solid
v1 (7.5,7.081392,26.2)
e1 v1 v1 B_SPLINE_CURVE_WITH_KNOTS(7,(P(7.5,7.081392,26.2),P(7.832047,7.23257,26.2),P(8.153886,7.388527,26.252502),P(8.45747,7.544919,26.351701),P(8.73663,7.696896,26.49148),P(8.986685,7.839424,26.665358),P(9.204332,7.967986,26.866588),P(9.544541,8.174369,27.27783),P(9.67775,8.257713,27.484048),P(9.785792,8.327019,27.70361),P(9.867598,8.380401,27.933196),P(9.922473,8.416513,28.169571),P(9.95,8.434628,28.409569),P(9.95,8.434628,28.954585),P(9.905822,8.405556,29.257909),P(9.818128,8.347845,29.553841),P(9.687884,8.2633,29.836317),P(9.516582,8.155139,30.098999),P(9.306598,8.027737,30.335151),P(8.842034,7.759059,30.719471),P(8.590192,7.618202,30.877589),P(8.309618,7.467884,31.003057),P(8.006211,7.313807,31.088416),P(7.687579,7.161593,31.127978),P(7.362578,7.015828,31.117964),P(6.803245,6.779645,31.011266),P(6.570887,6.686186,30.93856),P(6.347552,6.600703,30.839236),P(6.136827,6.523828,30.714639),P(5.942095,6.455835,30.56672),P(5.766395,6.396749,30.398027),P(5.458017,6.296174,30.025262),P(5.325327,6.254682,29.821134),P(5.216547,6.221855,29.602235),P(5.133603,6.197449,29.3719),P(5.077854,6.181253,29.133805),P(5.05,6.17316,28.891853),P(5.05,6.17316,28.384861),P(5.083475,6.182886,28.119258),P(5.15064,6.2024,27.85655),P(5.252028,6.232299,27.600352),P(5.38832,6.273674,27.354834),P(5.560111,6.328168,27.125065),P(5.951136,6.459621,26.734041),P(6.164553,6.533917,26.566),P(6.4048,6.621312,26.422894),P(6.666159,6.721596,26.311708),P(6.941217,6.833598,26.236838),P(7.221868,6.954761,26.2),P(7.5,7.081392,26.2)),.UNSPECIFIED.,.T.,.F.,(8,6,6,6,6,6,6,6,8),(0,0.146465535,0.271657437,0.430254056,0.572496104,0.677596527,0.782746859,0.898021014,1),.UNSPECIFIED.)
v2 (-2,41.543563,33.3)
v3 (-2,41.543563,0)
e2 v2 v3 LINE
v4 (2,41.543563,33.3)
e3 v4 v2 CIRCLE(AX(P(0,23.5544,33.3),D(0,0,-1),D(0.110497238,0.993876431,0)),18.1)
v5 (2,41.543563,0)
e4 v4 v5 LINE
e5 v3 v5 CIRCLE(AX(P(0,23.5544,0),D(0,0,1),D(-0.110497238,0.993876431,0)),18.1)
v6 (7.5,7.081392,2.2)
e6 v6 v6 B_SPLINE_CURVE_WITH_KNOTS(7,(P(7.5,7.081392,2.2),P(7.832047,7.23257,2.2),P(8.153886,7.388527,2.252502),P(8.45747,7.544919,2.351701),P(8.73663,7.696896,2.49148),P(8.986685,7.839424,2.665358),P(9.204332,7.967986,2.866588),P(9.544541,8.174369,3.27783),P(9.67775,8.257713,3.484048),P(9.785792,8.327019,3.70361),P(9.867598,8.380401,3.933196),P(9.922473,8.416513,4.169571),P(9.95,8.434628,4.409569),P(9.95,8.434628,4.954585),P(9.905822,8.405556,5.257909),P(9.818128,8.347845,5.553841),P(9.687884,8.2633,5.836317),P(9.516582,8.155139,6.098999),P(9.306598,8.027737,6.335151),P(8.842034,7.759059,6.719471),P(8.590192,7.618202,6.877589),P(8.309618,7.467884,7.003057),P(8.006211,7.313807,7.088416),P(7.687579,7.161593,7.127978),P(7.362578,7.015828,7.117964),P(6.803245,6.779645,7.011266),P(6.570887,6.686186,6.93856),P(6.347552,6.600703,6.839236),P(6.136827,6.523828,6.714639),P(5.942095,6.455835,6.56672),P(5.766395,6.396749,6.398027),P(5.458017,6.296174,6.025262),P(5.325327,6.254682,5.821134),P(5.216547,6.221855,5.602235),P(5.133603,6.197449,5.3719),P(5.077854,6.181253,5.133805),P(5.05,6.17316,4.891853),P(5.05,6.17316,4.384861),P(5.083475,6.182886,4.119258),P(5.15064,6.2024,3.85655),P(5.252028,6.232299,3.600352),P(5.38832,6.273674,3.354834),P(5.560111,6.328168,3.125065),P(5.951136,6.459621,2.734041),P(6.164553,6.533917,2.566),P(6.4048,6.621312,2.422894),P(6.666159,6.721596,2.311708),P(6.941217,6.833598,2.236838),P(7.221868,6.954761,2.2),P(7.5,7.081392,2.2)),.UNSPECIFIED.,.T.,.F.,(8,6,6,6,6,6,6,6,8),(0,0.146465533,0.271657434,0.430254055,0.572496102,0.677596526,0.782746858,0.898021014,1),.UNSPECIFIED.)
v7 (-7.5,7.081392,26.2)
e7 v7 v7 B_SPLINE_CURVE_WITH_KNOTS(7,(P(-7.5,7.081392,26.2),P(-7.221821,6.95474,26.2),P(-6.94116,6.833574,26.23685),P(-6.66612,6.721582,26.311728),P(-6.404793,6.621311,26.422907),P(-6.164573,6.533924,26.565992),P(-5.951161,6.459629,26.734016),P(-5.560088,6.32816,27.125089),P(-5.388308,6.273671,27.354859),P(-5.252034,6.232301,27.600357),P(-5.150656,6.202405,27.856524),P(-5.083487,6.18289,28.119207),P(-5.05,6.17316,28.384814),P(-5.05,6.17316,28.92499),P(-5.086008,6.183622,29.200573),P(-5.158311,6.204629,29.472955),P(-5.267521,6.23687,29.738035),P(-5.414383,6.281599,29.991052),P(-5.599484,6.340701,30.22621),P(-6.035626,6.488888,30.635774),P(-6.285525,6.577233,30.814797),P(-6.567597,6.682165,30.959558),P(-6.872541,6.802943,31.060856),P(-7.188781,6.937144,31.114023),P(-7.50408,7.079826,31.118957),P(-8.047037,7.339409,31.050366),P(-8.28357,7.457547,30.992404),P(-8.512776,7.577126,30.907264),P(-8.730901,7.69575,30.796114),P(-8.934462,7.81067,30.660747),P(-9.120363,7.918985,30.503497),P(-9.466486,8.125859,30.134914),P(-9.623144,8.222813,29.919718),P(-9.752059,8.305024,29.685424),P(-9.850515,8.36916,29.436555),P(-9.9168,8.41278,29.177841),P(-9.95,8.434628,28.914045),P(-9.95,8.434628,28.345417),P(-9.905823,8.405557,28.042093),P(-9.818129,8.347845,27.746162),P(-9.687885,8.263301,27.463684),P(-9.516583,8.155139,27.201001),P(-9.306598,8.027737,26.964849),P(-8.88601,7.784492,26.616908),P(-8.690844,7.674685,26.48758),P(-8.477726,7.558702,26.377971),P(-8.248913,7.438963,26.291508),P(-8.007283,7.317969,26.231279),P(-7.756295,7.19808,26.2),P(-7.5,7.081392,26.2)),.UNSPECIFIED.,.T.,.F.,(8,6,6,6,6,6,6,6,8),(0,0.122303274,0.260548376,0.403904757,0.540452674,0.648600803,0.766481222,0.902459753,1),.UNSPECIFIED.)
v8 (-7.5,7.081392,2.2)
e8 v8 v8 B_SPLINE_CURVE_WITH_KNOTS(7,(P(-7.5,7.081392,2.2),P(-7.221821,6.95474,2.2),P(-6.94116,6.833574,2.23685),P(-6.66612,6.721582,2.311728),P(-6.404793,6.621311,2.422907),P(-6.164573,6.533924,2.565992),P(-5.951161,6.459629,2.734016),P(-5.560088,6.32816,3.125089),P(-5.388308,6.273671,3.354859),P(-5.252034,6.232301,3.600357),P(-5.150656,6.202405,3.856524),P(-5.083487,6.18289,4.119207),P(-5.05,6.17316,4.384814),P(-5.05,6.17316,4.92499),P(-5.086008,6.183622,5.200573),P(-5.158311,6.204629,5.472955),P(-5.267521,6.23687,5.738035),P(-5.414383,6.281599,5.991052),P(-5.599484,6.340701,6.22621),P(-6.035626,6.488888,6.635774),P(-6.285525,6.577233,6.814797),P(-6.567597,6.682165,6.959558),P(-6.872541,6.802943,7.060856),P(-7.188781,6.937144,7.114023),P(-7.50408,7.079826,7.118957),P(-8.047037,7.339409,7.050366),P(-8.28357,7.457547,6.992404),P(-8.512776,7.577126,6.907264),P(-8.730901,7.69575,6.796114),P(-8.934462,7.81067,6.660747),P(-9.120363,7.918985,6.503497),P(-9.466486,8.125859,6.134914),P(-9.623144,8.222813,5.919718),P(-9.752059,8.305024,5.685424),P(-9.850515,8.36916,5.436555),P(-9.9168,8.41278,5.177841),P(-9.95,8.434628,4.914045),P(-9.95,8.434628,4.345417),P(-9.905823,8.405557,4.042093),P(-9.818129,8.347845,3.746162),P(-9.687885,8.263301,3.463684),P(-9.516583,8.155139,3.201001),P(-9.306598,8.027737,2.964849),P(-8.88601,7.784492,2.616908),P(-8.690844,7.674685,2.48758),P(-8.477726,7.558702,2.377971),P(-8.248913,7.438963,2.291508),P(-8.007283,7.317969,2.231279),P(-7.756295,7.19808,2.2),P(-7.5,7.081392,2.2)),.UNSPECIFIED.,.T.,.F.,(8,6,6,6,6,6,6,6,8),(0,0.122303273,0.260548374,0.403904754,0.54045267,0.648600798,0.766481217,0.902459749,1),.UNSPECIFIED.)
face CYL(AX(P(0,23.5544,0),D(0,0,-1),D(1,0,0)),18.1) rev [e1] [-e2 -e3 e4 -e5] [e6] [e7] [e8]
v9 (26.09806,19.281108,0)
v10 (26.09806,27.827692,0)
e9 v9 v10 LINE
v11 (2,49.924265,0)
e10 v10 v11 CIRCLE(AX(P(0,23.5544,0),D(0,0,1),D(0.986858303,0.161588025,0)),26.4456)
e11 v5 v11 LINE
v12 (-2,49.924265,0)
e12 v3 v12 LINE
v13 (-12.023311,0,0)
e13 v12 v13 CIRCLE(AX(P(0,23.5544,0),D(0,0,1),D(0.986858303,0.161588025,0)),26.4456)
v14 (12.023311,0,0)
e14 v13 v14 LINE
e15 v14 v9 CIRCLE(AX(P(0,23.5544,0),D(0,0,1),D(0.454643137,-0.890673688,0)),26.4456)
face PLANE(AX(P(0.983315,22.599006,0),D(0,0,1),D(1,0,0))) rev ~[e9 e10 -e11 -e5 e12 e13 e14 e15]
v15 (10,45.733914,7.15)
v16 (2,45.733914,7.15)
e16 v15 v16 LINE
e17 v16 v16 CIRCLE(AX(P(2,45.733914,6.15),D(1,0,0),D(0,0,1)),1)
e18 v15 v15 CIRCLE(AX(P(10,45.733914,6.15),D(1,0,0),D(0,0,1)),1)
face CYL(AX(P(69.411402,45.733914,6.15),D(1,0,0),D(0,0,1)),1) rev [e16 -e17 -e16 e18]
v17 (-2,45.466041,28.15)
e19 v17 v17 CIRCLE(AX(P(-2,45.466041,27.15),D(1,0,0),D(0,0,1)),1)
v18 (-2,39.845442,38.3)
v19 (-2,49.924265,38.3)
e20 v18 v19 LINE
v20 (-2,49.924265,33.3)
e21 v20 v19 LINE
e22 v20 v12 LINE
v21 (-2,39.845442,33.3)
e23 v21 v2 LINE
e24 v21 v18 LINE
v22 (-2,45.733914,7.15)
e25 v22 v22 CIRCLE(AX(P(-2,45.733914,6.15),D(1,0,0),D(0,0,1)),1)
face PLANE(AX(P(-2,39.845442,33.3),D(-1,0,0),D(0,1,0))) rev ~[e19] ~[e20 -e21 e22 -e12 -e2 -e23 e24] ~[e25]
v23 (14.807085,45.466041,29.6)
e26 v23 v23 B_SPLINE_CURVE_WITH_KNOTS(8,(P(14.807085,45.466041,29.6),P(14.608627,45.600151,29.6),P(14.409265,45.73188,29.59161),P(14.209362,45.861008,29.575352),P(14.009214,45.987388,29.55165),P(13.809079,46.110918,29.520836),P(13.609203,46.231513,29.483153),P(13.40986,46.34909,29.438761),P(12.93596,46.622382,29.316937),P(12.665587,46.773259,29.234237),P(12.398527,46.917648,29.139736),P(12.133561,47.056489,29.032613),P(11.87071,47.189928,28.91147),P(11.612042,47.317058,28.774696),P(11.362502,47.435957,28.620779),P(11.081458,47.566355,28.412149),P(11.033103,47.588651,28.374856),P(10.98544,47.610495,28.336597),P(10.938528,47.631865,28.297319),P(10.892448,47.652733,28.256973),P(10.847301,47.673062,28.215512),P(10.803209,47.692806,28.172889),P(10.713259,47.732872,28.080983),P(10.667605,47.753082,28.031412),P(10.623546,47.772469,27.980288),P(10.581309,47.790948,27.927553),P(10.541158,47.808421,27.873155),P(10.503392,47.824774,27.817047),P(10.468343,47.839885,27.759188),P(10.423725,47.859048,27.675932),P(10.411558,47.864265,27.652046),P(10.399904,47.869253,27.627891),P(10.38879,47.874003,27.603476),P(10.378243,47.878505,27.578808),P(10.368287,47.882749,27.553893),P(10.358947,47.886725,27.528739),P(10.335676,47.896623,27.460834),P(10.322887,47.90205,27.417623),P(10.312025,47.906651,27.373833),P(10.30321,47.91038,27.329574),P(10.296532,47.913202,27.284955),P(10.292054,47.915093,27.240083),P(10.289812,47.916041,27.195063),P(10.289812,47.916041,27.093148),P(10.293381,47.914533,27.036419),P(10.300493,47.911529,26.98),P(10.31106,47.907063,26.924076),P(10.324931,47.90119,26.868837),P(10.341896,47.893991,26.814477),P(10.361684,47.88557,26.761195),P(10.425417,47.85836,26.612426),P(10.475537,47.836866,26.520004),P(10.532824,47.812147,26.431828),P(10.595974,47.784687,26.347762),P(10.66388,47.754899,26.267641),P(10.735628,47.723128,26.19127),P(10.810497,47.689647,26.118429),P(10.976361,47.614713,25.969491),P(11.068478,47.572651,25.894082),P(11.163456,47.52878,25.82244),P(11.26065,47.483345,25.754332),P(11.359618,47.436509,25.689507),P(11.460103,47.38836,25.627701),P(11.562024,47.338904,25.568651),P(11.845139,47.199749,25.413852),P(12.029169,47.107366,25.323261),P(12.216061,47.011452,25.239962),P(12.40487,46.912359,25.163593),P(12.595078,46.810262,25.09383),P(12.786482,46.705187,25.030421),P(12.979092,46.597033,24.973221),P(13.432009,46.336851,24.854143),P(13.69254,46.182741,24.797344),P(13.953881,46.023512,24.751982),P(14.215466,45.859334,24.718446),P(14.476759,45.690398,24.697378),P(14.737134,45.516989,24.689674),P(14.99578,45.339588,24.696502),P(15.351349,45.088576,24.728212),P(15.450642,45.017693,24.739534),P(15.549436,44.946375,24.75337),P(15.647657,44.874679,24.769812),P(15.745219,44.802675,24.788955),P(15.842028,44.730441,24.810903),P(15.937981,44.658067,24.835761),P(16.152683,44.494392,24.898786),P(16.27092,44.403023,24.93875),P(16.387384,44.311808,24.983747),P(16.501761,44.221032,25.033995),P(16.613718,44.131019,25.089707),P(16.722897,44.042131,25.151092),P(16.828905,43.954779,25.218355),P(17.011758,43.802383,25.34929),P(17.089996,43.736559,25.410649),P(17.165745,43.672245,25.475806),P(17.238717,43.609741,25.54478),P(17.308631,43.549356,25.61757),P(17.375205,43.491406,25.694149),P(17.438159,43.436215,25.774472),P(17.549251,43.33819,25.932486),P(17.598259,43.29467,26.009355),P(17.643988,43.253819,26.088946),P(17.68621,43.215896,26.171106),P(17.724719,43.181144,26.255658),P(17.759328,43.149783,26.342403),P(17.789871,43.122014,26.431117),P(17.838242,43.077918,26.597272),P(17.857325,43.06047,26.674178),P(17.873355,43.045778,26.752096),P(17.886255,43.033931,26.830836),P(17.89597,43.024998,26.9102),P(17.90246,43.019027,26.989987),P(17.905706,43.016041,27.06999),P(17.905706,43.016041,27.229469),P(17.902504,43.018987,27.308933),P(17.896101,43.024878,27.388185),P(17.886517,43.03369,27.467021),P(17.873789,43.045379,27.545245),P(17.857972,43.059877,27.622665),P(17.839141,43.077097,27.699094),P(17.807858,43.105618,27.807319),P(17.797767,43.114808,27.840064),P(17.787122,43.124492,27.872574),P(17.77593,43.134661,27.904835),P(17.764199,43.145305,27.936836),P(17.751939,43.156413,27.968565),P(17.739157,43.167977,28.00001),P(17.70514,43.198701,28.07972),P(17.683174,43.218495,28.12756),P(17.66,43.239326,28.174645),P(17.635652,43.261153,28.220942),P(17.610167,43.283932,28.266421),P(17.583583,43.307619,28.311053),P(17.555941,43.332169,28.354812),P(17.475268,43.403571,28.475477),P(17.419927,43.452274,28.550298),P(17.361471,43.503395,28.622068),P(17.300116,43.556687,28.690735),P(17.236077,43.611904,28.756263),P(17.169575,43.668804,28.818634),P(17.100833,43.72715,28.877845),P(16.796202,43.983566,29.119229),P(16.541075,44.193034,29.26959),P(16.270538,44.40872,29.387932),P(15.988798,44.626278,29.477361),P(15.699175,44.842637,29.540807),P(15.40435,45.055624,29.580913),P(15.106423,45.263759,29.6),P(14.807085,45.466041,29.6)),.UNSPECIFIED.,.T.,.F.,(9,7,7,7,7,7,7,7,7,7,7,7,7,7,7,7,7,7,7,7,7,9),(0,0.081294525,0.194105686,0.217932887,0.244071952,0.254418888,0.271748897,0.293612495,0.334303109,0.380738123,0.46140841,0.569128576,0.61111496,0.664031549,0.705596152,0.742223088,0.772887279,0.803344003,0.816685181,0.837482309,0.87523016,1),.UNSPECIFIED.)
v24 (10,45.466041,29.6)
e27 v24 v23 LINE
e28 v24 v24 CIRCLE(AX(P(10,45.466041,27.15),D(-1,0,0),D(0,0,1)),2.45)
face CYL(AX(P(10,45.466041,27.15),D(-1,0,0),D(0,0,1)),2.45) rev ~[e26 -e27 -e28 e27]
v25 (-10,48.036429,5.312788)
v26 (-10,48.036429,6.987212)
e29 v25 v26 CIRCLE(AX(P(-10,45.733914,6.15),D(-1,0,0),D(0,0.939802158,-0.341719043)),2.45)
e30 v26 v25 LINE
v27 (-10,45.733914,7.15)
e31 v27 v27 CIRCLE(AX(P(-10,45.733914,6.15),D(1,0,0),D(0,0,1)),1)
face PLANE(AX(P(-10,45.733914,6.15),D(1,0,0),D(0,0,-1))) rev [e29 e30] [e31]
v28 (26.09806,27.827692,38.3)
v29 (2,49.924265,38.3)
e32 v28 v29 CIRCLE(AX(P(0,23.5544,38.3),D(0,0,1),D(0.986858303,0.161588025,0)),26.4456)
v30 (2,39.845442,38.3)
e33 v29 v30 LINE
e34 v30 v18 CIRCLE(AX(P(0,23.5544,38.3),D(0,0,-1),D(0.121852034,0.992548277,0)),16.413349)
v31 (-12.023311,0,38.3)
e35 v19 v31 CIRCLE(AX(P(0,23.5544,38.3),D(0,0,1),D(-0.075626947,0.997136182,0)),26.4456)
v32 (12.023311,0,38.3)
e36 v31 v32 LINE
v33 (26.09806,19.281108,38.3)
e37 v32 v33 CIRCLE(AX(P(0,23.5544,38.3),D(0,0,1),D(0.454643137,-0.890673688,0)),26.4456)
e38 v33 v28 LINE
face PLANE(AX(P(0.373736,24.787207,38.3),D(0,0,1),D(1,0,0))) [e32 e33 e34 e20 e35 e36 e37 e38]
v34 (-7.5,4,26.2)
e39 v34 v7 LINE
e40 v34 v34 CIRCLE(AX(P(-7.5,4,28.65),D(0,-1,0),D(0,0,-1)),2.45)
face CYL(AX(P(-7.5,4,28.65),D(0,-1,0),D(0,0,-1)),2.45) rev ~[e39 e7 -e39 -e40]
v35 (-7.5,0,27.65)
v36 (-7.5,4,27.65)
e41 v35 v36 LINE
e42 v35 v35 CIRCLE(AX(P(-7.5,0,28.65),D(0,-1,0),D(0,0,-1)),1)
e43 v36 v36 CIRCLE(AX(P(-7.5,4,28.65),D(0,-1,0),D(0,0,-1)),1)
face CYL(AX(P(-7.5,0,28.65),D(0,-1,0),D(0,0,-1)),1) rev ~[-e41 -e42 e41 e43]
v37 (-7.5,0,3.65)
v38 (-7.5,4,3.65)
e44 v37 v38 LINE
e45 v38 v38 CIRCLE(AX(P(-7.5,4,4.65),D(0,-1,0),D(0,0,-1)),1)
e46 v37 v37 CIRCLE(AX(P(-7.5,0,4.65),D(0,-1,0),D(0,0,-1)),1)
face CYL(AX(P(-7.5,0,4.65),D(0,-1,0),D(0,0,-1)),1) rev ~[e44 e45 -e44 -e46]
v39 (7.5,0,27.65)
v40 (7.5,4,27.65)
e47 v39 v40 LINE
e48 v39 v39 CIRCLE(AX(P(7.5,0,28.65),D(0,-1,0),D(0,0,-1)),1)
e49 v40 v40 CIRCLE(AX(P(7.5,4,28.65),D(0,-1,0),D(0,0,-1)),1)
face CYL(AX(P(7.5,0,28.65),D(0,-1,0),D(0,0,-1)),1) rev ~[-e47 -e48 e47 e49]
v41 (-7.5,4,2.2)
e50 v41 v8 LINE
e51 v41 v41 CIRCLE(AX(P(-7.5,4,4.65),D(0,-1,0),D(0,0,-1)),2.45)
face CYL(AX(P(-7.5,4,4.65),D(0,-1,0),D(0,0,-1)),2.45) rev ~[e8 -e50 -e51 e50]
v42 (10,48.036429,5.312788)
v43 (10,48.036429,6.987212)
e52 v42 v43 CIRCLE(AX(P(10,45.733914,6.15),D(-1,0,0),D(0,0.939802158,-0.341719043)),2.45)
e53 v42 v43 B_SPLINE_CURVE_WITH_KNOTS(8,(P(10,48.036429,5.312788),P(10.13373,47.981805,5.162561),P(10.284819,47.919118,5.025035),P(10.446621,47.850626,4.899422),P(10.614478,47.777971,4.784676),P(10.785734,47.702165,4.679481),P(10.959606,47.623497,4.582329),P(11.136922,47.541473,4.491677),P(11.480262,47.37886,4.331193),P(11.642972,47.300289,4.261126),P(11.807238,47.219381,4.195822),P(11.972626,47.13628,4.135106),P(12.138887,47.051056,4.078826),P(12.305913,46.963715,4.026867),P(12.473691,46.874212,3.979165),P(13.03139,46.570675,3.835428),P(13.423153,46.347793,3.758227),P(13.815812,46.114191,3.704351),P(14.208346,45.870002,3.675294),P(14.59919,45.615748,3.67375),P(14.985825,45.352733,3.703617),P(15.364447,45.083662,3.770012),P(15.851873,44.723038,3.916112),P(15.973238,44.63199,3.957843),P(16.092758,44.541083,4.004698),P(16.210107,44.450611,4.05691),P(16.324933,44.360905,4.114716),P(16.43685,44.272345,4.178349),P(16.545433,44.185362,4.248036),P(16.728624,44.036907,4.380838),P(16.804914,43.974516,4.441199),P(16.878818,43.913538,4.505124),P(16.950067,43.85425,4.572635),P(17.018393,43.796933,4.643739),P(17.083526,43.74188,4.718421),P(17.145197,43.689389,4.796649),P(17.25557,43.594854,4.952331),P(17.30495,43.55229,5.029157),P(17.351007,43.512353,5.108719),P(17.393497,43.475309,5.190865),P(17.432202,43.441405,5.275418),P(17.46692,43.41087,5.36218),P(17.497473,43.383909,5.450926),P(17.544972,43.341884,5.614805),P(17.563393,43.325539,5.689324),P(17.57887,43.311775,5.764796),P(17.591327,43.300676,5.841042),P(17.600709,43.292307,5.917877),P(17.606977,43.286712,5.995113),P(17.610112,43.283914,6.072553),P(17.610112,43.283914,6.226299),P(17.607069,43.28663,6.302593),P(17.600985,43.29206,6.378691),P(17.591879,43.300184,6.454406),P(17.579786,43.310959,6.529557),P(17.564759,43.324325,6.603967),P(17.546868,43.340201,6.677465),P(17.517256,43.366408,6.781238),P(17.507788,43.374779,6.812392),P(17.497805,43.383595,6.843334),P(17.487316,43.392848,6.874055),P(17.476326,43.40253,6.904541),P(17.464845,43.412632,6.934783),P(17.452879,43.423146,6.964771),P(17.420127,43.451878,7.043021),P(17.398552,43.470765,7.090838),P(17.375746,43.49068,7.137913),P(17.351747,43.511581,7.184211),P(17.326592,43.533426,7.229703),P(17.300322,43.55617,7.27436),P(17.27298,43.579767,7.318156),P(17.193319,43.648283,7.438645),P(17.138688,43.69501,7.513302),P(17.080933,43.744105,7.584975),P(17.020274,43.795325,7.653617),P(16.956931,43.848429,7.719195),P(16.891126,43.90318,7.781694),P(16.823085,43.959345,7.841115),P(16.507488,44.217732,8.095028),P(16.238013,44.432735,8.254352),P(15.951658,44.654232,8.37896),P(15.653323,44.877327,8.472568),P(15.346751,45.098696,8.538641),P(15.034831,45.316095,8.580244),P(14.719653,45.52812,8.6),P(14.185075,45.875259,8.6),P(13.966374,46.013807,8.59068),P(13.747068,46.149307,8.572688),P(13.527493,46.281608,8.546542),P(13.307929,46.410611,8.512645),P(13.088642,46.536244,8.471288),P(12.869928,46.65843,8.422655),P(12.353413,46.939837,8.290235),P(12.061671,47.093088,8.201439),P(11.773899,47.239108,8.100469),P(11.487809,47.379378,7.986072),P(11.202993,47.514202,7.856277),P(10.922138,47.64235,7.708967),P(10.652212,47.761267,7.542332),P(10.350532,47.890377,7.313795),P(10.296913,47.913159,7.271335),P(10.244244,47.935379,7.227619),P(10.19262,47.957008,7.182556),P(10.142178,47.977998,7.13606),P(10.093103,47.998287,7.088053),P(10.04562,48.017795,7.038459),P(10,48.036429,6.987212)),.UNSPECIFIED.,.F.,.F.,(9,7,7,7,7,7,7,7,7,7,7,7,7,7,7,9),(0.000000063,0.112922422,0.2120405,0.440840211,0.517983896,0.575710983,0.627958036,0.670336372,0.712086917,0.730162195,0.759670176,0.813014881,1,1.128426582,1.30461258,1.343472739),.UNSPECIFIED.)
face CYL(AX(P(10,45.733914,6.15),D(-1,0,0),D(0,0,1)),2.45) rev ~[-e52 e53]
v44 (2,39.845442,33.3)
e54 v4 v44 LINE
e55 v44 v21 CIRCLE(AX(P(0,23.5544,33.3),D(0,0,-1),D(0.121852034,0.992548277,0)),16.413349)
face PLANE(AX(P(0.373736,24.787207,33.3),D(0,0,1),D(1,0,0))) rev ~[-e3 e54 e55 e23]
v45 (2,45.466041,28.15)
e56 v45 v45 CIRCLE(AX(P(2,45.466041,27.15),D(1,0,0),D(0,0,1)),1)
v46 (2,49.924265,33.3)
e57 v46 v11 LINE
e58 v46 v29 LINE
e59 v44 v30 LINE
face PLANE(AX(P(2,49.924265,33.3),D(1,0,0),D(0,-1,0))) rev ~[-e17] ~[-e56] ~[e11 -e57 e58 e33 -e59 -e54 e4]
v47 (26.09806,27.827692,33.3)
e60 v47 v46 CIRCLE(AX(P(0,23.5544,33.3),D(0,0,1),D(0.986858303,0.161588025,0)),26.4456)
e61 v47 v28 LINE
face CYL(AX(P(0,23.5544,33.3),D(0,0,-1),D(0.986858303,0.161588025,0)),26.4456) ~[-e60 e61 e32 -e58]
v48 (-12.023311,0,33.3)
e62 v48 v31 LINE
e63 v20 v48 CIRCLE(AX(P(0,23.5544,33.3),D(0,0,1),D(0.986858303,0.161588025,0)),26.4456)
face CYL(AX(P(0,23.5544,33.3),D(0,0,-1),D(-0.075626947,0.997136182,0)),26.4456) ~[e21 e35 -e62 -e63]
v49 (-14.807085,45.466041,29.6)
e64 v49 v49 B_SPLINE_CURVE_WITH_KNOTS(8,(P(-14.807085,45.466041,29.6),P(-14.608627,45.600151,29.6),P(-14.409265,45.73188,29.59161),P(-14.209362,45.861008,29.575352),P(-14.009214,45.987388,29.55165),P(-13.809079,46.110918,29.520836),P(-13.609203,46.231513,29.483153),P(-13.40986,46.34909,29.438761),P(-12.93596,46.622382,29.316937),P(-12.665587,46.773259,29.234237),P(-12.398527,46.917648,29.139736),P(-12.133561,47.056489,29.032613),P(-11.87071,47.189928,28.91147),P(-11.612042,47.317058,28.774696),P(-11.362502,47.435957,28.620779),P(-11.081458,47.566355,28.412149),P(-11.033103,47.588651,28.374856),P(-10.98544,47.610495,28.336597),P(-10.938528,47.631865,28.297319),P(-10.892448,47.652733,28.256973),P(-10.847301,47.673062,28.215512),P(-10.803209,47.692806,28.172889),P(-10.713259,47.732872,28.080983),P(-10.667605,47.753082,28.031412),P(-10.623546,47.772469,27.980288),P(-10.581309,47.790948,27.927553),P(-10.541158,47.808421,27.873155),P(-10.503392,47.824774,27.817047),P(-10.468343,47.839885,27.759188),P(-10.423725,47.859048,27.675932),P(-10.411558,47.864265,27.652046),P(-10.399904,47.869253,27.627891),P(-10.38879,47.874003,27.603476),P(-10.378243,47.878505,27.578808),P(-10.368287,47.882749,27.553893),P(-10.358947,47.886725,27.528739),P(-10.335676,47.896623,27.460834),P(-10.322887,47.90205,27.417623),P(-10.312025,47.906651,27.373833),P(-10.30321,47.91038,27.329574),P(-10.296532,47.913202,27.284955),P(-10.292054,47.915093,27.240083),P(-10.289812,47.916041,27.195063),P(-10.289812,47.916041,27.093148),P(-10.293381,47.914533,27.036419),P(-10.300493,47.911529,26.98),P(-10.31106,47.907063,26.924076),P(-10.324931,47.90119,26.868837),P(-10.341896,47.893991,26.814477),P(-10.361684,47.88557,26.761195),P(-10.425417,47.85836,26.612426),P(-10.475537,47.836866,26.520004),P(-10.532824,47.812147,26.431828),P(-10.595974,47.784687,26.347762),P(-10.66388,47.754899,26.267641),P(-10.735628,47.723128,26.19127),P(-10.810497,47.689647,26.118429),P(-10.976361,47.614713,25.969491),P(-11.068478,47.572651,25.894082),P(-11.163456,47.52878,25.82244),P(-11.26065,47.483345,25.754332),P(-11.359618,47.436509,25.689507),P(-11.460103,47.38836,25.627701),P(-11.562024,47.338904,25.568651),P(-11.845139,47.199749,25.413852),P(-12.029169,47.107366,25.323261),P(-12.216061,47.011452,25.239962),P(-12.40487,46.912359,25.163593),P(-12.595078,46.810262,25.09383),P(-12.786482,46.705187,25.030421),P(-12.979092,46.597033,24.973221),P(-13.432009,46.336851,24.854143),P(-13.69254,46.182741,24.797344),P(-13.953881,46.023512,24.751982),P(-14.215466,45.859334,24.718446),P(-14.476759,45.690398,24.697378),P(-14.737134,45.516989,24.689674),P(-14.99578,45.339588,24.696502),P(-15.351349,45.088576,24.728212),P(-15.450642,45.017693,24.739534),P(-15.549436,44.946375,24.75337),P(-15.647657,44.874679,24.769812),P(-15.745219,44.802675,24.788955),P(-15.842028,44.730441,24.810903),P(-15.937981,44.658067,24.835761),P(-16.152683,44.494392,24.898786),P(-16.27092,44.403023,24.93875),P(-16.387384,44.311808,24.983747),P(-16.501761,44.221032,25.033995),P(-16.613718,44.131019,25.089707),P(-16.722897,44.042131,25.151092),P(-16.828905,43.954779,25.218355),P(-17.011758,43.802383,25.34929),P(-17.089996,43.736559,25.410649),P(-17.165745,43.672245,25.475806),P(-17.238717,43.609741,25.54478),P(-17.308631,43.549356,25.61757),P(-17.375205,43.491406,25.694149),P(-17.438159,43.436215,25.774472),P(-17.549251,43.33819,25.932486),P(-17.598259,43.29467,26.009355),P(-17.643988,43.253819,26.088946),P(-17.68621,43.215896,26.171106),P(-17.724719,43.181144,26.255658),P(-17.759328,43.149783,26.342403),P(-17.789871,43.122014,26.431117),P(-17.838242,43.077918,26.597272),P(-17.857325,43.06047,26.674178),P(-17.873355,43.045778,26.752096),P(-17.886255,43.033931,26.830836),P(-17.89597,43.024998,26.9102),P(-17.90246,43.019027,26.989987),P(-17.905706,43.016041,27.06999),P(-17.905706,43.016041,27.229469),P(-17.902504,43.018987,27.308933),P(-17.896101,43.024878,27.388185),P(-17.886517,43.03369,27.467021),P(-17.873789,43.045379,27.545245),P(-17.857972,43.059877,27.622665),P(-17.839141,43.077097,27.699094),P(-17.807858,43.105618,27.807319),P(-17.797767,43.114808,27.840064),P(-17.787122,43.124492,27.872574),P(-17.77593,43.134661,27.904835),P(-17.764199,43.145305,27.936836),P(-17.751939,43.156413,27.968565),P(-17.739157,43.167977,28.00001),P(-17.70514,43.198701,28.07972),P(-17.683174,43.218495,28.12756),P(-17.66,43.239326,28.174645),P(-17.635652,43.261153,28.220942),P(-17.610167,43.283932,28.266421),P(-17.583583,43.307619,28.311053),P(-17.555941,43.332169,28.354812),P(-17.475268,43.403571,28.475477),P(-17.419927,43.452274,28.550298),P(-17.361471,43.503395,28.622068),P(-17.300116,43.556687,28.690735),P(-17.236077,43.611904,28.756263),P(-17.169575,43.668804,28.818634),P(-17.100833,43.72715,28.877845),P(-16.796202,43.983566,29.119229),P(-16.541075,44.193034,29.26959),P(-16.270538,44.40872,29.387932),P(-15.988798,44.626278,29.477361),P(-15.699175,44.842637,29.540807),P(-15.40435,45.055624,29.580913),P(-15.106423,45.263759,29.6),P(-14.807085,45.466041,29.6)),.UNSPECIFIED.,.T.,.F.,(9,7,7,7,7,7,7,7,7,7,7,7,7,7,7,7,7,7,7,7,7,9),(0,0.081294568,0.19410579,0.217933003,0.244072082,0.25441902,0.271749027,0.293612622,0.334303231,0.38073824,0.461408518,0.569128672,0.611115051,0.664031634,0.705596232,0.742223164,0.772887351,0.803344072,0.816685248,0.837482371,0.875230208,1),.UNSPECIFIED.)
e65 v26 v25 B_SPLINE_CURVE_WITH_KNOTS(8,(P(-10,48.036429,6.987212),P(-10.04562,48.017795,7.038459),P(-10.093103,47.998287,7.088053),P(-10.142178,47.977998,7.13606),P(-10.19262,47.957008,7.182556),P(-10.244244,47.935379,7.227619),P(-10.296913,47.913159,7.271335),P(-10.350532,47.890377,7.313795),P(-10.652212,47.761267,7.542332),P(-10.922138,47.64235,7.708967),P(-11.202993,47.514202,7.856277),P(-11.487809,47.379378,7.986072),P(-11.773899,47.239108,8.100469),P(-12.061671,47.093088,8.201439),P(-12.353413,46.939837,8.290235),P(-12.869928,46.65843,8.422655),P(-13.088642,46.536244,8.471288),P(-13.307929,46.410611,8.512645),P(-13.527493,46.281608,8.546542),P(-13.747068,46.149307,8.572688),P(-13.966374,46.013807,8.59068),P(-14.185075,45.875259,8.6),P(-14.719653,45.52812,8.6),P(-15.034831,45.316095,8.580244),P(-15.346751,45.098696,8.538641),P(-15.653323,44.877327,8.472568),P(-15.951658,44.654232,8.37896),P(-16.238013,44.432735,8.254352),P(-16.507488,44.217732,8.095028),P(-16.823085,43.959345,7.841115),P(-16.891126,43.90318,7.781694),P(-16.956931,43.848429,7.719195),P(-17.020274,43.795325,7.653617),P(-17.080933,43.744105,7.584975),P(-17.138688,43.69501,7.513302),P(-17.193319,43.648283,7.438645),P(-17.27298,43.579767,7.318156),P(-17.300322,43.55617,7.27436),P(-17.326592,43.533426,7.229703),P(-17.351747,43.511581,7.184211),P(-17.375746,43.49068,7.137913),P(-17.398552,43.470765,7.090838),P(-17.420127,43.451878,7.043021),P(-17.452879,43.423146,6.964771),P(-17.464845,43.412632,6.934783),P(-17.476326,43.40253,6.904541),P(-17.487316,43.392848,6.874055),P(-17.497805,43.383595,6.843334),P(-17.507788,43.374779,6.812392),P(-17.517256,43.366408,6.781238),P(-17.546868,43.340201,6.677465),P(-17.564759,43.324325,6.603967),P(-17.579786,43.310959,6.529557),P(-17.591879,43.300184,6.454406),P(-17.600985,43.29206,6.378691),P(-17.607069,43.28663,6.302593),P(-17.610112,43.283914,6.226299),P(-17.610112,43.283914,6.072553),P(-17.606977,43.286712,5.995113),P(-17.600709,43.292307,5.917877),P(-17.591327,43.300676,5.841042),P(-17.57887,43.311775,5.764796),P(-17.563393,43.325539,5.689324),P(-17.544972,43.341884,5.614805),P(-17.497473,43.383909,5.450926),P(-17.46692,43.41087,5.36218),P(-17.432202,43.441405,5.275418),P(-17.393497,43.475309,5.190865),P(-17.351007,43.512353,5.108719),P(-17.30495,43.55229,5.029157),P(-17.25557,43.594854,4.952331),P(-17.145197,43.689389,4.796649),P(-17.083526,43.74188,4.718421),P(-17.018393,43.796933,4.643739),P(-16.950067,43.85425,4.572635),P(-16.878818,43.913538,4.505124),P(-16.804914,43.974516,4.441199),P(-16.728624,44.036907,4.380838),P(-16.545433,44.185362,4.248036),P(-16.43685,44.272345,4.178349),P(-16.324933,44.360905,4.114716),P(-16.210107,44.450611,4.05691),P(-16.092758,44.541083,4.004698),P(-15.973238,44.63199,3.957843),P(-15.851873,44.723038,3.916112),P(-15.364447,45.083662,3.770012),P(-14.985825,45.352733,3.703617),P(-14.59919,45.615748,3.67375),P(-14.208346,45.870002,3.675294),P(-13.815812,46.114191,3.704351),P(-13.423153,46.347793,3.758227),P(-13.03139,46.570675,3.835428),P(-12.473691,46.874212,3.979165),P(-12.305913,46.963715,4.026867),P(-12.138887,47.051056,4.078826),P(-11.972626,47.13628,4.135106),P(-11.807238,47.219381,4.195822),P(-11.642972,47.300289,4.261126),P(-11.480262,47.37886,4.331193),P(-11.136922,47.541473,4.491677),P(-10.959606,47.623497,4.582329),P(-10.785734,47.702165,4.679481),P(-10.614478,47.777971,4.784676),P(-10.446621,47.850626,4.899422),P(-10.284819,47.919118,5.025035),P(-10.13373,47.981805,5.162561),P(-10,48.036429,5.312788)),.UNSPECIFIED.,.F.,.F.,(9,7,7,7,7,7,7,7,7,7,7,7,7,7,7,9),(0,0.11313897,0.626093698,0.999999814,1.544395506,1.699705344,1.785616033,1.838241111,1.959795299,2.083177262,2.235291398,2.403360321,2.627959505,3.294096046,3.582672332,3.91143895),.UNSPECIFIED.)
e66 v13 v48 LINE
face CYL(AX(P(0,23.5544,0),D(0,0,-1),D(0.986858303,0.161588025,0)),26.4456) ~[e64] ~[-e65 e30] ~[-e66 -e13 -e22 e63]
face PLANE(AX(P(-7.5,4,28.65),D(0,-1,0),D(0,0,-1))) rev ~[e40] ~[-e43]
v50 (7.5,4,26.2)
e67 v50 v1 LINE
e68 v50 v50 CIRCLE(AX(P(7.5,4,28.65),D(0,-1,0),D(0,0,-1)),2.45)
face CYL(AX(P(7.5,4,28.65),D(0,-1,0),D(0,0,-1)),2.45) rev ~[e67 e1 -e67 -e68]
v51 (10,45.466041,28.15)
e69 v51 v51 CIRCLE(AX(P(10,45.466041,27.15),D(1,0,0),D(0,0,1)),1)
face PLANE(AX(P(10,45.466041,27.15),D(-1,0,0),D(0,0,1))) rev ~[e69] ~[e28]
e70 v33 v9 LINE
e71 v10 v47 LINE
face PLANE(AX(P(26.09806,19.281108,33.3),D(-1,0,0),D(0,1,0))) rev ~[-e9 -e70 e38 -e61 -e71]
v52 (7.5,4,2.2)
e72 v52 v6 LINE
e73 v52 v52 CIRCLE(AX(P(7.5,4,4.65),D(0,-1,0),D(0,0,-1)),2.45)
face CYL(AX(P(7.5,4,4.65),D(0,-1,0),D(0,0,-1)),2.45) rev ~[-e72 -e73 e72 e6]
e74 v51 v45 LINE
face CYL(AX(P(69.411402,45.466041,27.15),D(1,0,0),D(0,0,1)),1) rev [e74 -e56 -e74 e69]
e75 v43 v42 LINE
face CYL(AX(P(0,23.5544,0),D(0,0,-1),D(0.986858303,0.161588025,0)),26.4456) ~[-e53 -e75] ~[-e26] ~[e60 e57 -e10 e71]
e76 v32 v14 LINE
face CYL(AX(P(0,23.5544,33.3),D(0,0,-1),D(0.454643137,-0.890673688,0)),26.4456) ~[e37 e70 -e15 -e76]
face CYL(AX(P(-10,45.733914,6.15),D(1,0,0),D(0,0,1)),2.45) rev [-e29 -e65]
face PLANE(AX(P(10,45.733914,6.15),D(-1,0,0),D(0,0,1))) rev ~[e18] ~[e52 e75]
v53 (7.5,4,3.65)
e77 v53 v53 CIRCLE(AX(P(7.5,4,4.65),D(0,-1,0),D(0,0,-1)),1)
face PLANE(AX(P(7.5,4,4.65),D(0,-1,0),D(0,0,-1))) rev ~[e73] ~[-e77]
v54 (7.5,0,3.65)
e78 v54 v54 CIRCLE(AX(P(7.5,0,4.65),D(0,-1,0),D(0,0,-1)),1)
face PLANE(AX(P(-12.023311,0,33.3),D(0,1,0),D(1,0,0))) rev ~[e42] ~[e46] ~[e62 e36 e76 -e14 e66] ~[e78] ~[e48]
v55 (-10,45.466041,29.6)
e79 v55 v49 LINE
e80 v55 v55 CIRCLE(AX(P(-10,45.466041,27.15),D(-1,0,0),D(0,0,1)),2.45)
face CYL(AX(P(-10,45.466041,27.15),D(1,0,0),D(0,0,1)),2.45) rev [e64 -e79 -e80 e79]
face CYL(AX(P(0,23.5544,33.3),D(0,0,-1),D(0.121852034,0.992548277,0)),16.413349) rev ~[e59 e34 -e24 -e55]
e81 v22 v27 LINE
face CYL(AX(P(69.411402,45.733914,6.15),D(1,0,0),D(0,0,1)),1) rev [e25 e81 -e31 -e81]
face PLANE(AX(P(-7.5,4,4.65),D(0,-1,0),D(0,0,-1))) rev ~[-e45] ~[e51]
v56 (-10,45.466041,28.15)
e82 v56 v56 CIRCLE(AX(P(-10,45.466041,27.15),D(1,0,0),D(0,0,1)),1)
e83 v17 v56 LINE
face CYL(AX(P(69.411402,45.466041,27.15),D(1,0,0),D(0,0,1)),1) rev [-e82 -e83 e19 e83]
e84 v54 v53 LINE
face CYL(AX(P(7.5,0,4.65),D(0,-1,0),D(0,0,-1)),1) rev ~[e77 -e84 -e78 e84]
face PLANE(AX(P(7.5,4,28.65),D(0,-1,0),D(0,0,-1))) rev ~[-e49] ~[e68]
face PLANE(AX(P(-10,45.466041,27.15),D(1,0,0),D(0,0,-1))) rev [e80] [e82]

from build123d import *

# Parameters (mm, degrees)
SKETCH1_R               = 18.1
BOSS_EXTRUDE1_DEPTH     = 33.3
SKETCH2_R               = 1
CUT_EXTRUDE1_DEPTH      = 9.3
SKETCH3_R               = 2.45
CUT_EXTRUDE2_DEPTH      = 9.3
SKETCH4_W               = 4
SKETCH4_H               = 29.158742143
CUT_EXTRUDE3_DEPTH      = 66.637335137
CUT_EXTRUDE4_DEPTH      = 67.411402336
CUT_EXTRUDE4_DEPTH_BACK = 67.411402336
SKETCH5_R               = 1
SKETCH6_R               = 2.45
CUT_EXTRUDE5_DEPTH      = 22
BOSS_EXTRUDE2_DEPTH     = 5


with BuildPart() as part:
    # Sketch1 → Boss-Extrude1 (new body)
    with BuildSketch(Plane.XY):
        with BuildLine():
            ThreePointArc((26.098059899, 27.8276923), (-15.592298008, 44.914409405), (-12.023310526, 0))
            Line((-12.023310526, 0), (12.023310526, 0))
            ThreePointArc((12.023310526, 0), (21.360009365, 7.962102032), (26.098059899, 19.28110778))
            Line((26.098059899, 19.28110778), (26.098059899, 27.8276923))
        make_face()
        with Locations((0, 23.55440004)):
            Circle(SKETCH1_R, mode=Mode.SUBTRACT)
    extrude(amount=BOSS_EXTRUDE1_DEPTH)

    # Sketch2 → Cut-Extrude1 (cut)
    with BuildSketch(Plane.XZ):
        with Locations(Location((-7.5, 28.65, 0), (0, 0, 270))):
            Circle(SKETCH2_R)
        with Locations(Location((7.5, 28.65, 0), (0, 0, 270))):
            Circle(SKETCH2_R)
        with Locations(Location((-7.5, 4.65, 0), (0, 0, 270))):
            Circle(SKETCH2_R)
        with Locations(Location((7.5, 4.65, 0), (0, 0, 270))):
            Circle(SKETCH2_R)
    extrude(amount=-CUT_EXTRUDE1_DEPTH, mode=Mode.SUBTRACT)

    # Sketch3 → Cut-Extrude2 (cut)
    with BuildSketch(Plane(origin=(0, 4, 0), x_dir=(-1, 0, 0), z_dir=(0, -1, 0))):
        with Locations(Location((-7.5, -4.65, 0), (0, 0, 90))):
            Circle(SKETCH3_R)
        with Locations(Location((7.5, -4.65, 0), (0, 0, 90))):
            Circle(SKETCH3_R)
        with Locations(Location((-7.5, -28.65, 0), (0, 0, 90))):
            Circle(SKETCH3_R)
        with Locations(Location((7.5, -28.65, 0), (0, 0, 90))):
            Circle(SKETCH3_R)
    extrude(amount=-CUT_EXTRUDE2_DEPTH, mode=Mode.SUBTRACT)

    # Sketch4 → Cut-Extrude3 (cut, through all)
    with BuildSketch(Plane.XY.offset(33.3)):
        with Locations((0, 46.869056607)):
            Rectangle(SKETCH4_W, SKETCH4_H)
    extrude(amount=-CUT_EXTRUDE3_DEPTH, mode=Mode.SUBTRACT)

    # Sketch5 → Cut-Extrude4 (cut, two sides: drawn at the far end of the back side and taken through both)
    with BuildSketch(Plane.ZY.offset(-2).offset(-CUT_EXTRUDE4_DEPTH_BACK)):
        with Locations((6.15, 45.733914025)):
            Circle(SKETCH5_R)
        with Locations((27.15, 45.466040673)):
            Circle(SKETCH5_R)
    extrude(amount=CUT_EXTRUDE4_DEPTH + CUT_EXTRUDE4_DEPTH_BACK, mode=Mode.SUBTRACT)

    # Sketch6 → Cut-Extrude5 (cut)
    with BuildSketch(Plane.ZY.offset(-10)):
        with Locations((6.15, 45.733914025)):
            Circle(SKETCH6_R)
        with Locations((27.15, 45.466040673)):
            Circle(SKETCH6_R)
    cut_extrude5 = extrude(amount=-CUT_EXTRUDE5_DEPTH, mode=Mode.SUBTRACT)

    # Mirror1: Cut-Extrude5 across plane
    add(cut_extrude5.mirror(Plane(origin=(0, 0, 0), x_dir=(0, 0, 1), z_dir=(1, 0, 0))), mode=Mode.SUBTRACT)

    # Sketch7 → Boss-Extrude2 (add)
    with BuildSketch(Plane(origin=(0, 0, 33.3), x_dir=(-1, 0, 0), z_dir=(0, 0, -1))):
        with BuildLine():
            Line((-26.098059899, 19.28110778), (-26.098059899, 27.8276923))
            ThreePointArc((-26.098059899, 27.8276923), (-17.872880838, 43.046190307), (-2, 49.924264606))
            Line((-2, 49.924264606), (-2, 39.845441603))
            ThreePointArc((-2, 39.845441603), (0, 7.141050741), (2, 39.845441603))
            Line((2, 39.845441603), (2, 49.924264606))
            ThreePointArc((2, 49.924264606), (25.928196209, 28.760012261), (12.023310526, 0))
            Line((12.023310526, 0), (-12.023310526, 0))
            ThreePointArc((-12.023310526, 0), (-21.360009365, 7.962102032), (-26.098059899, 19.28110778))
        make_face()
    extrude(amount=-BOSS_EXTRUDE2_DEPTH)


solid = part.part
